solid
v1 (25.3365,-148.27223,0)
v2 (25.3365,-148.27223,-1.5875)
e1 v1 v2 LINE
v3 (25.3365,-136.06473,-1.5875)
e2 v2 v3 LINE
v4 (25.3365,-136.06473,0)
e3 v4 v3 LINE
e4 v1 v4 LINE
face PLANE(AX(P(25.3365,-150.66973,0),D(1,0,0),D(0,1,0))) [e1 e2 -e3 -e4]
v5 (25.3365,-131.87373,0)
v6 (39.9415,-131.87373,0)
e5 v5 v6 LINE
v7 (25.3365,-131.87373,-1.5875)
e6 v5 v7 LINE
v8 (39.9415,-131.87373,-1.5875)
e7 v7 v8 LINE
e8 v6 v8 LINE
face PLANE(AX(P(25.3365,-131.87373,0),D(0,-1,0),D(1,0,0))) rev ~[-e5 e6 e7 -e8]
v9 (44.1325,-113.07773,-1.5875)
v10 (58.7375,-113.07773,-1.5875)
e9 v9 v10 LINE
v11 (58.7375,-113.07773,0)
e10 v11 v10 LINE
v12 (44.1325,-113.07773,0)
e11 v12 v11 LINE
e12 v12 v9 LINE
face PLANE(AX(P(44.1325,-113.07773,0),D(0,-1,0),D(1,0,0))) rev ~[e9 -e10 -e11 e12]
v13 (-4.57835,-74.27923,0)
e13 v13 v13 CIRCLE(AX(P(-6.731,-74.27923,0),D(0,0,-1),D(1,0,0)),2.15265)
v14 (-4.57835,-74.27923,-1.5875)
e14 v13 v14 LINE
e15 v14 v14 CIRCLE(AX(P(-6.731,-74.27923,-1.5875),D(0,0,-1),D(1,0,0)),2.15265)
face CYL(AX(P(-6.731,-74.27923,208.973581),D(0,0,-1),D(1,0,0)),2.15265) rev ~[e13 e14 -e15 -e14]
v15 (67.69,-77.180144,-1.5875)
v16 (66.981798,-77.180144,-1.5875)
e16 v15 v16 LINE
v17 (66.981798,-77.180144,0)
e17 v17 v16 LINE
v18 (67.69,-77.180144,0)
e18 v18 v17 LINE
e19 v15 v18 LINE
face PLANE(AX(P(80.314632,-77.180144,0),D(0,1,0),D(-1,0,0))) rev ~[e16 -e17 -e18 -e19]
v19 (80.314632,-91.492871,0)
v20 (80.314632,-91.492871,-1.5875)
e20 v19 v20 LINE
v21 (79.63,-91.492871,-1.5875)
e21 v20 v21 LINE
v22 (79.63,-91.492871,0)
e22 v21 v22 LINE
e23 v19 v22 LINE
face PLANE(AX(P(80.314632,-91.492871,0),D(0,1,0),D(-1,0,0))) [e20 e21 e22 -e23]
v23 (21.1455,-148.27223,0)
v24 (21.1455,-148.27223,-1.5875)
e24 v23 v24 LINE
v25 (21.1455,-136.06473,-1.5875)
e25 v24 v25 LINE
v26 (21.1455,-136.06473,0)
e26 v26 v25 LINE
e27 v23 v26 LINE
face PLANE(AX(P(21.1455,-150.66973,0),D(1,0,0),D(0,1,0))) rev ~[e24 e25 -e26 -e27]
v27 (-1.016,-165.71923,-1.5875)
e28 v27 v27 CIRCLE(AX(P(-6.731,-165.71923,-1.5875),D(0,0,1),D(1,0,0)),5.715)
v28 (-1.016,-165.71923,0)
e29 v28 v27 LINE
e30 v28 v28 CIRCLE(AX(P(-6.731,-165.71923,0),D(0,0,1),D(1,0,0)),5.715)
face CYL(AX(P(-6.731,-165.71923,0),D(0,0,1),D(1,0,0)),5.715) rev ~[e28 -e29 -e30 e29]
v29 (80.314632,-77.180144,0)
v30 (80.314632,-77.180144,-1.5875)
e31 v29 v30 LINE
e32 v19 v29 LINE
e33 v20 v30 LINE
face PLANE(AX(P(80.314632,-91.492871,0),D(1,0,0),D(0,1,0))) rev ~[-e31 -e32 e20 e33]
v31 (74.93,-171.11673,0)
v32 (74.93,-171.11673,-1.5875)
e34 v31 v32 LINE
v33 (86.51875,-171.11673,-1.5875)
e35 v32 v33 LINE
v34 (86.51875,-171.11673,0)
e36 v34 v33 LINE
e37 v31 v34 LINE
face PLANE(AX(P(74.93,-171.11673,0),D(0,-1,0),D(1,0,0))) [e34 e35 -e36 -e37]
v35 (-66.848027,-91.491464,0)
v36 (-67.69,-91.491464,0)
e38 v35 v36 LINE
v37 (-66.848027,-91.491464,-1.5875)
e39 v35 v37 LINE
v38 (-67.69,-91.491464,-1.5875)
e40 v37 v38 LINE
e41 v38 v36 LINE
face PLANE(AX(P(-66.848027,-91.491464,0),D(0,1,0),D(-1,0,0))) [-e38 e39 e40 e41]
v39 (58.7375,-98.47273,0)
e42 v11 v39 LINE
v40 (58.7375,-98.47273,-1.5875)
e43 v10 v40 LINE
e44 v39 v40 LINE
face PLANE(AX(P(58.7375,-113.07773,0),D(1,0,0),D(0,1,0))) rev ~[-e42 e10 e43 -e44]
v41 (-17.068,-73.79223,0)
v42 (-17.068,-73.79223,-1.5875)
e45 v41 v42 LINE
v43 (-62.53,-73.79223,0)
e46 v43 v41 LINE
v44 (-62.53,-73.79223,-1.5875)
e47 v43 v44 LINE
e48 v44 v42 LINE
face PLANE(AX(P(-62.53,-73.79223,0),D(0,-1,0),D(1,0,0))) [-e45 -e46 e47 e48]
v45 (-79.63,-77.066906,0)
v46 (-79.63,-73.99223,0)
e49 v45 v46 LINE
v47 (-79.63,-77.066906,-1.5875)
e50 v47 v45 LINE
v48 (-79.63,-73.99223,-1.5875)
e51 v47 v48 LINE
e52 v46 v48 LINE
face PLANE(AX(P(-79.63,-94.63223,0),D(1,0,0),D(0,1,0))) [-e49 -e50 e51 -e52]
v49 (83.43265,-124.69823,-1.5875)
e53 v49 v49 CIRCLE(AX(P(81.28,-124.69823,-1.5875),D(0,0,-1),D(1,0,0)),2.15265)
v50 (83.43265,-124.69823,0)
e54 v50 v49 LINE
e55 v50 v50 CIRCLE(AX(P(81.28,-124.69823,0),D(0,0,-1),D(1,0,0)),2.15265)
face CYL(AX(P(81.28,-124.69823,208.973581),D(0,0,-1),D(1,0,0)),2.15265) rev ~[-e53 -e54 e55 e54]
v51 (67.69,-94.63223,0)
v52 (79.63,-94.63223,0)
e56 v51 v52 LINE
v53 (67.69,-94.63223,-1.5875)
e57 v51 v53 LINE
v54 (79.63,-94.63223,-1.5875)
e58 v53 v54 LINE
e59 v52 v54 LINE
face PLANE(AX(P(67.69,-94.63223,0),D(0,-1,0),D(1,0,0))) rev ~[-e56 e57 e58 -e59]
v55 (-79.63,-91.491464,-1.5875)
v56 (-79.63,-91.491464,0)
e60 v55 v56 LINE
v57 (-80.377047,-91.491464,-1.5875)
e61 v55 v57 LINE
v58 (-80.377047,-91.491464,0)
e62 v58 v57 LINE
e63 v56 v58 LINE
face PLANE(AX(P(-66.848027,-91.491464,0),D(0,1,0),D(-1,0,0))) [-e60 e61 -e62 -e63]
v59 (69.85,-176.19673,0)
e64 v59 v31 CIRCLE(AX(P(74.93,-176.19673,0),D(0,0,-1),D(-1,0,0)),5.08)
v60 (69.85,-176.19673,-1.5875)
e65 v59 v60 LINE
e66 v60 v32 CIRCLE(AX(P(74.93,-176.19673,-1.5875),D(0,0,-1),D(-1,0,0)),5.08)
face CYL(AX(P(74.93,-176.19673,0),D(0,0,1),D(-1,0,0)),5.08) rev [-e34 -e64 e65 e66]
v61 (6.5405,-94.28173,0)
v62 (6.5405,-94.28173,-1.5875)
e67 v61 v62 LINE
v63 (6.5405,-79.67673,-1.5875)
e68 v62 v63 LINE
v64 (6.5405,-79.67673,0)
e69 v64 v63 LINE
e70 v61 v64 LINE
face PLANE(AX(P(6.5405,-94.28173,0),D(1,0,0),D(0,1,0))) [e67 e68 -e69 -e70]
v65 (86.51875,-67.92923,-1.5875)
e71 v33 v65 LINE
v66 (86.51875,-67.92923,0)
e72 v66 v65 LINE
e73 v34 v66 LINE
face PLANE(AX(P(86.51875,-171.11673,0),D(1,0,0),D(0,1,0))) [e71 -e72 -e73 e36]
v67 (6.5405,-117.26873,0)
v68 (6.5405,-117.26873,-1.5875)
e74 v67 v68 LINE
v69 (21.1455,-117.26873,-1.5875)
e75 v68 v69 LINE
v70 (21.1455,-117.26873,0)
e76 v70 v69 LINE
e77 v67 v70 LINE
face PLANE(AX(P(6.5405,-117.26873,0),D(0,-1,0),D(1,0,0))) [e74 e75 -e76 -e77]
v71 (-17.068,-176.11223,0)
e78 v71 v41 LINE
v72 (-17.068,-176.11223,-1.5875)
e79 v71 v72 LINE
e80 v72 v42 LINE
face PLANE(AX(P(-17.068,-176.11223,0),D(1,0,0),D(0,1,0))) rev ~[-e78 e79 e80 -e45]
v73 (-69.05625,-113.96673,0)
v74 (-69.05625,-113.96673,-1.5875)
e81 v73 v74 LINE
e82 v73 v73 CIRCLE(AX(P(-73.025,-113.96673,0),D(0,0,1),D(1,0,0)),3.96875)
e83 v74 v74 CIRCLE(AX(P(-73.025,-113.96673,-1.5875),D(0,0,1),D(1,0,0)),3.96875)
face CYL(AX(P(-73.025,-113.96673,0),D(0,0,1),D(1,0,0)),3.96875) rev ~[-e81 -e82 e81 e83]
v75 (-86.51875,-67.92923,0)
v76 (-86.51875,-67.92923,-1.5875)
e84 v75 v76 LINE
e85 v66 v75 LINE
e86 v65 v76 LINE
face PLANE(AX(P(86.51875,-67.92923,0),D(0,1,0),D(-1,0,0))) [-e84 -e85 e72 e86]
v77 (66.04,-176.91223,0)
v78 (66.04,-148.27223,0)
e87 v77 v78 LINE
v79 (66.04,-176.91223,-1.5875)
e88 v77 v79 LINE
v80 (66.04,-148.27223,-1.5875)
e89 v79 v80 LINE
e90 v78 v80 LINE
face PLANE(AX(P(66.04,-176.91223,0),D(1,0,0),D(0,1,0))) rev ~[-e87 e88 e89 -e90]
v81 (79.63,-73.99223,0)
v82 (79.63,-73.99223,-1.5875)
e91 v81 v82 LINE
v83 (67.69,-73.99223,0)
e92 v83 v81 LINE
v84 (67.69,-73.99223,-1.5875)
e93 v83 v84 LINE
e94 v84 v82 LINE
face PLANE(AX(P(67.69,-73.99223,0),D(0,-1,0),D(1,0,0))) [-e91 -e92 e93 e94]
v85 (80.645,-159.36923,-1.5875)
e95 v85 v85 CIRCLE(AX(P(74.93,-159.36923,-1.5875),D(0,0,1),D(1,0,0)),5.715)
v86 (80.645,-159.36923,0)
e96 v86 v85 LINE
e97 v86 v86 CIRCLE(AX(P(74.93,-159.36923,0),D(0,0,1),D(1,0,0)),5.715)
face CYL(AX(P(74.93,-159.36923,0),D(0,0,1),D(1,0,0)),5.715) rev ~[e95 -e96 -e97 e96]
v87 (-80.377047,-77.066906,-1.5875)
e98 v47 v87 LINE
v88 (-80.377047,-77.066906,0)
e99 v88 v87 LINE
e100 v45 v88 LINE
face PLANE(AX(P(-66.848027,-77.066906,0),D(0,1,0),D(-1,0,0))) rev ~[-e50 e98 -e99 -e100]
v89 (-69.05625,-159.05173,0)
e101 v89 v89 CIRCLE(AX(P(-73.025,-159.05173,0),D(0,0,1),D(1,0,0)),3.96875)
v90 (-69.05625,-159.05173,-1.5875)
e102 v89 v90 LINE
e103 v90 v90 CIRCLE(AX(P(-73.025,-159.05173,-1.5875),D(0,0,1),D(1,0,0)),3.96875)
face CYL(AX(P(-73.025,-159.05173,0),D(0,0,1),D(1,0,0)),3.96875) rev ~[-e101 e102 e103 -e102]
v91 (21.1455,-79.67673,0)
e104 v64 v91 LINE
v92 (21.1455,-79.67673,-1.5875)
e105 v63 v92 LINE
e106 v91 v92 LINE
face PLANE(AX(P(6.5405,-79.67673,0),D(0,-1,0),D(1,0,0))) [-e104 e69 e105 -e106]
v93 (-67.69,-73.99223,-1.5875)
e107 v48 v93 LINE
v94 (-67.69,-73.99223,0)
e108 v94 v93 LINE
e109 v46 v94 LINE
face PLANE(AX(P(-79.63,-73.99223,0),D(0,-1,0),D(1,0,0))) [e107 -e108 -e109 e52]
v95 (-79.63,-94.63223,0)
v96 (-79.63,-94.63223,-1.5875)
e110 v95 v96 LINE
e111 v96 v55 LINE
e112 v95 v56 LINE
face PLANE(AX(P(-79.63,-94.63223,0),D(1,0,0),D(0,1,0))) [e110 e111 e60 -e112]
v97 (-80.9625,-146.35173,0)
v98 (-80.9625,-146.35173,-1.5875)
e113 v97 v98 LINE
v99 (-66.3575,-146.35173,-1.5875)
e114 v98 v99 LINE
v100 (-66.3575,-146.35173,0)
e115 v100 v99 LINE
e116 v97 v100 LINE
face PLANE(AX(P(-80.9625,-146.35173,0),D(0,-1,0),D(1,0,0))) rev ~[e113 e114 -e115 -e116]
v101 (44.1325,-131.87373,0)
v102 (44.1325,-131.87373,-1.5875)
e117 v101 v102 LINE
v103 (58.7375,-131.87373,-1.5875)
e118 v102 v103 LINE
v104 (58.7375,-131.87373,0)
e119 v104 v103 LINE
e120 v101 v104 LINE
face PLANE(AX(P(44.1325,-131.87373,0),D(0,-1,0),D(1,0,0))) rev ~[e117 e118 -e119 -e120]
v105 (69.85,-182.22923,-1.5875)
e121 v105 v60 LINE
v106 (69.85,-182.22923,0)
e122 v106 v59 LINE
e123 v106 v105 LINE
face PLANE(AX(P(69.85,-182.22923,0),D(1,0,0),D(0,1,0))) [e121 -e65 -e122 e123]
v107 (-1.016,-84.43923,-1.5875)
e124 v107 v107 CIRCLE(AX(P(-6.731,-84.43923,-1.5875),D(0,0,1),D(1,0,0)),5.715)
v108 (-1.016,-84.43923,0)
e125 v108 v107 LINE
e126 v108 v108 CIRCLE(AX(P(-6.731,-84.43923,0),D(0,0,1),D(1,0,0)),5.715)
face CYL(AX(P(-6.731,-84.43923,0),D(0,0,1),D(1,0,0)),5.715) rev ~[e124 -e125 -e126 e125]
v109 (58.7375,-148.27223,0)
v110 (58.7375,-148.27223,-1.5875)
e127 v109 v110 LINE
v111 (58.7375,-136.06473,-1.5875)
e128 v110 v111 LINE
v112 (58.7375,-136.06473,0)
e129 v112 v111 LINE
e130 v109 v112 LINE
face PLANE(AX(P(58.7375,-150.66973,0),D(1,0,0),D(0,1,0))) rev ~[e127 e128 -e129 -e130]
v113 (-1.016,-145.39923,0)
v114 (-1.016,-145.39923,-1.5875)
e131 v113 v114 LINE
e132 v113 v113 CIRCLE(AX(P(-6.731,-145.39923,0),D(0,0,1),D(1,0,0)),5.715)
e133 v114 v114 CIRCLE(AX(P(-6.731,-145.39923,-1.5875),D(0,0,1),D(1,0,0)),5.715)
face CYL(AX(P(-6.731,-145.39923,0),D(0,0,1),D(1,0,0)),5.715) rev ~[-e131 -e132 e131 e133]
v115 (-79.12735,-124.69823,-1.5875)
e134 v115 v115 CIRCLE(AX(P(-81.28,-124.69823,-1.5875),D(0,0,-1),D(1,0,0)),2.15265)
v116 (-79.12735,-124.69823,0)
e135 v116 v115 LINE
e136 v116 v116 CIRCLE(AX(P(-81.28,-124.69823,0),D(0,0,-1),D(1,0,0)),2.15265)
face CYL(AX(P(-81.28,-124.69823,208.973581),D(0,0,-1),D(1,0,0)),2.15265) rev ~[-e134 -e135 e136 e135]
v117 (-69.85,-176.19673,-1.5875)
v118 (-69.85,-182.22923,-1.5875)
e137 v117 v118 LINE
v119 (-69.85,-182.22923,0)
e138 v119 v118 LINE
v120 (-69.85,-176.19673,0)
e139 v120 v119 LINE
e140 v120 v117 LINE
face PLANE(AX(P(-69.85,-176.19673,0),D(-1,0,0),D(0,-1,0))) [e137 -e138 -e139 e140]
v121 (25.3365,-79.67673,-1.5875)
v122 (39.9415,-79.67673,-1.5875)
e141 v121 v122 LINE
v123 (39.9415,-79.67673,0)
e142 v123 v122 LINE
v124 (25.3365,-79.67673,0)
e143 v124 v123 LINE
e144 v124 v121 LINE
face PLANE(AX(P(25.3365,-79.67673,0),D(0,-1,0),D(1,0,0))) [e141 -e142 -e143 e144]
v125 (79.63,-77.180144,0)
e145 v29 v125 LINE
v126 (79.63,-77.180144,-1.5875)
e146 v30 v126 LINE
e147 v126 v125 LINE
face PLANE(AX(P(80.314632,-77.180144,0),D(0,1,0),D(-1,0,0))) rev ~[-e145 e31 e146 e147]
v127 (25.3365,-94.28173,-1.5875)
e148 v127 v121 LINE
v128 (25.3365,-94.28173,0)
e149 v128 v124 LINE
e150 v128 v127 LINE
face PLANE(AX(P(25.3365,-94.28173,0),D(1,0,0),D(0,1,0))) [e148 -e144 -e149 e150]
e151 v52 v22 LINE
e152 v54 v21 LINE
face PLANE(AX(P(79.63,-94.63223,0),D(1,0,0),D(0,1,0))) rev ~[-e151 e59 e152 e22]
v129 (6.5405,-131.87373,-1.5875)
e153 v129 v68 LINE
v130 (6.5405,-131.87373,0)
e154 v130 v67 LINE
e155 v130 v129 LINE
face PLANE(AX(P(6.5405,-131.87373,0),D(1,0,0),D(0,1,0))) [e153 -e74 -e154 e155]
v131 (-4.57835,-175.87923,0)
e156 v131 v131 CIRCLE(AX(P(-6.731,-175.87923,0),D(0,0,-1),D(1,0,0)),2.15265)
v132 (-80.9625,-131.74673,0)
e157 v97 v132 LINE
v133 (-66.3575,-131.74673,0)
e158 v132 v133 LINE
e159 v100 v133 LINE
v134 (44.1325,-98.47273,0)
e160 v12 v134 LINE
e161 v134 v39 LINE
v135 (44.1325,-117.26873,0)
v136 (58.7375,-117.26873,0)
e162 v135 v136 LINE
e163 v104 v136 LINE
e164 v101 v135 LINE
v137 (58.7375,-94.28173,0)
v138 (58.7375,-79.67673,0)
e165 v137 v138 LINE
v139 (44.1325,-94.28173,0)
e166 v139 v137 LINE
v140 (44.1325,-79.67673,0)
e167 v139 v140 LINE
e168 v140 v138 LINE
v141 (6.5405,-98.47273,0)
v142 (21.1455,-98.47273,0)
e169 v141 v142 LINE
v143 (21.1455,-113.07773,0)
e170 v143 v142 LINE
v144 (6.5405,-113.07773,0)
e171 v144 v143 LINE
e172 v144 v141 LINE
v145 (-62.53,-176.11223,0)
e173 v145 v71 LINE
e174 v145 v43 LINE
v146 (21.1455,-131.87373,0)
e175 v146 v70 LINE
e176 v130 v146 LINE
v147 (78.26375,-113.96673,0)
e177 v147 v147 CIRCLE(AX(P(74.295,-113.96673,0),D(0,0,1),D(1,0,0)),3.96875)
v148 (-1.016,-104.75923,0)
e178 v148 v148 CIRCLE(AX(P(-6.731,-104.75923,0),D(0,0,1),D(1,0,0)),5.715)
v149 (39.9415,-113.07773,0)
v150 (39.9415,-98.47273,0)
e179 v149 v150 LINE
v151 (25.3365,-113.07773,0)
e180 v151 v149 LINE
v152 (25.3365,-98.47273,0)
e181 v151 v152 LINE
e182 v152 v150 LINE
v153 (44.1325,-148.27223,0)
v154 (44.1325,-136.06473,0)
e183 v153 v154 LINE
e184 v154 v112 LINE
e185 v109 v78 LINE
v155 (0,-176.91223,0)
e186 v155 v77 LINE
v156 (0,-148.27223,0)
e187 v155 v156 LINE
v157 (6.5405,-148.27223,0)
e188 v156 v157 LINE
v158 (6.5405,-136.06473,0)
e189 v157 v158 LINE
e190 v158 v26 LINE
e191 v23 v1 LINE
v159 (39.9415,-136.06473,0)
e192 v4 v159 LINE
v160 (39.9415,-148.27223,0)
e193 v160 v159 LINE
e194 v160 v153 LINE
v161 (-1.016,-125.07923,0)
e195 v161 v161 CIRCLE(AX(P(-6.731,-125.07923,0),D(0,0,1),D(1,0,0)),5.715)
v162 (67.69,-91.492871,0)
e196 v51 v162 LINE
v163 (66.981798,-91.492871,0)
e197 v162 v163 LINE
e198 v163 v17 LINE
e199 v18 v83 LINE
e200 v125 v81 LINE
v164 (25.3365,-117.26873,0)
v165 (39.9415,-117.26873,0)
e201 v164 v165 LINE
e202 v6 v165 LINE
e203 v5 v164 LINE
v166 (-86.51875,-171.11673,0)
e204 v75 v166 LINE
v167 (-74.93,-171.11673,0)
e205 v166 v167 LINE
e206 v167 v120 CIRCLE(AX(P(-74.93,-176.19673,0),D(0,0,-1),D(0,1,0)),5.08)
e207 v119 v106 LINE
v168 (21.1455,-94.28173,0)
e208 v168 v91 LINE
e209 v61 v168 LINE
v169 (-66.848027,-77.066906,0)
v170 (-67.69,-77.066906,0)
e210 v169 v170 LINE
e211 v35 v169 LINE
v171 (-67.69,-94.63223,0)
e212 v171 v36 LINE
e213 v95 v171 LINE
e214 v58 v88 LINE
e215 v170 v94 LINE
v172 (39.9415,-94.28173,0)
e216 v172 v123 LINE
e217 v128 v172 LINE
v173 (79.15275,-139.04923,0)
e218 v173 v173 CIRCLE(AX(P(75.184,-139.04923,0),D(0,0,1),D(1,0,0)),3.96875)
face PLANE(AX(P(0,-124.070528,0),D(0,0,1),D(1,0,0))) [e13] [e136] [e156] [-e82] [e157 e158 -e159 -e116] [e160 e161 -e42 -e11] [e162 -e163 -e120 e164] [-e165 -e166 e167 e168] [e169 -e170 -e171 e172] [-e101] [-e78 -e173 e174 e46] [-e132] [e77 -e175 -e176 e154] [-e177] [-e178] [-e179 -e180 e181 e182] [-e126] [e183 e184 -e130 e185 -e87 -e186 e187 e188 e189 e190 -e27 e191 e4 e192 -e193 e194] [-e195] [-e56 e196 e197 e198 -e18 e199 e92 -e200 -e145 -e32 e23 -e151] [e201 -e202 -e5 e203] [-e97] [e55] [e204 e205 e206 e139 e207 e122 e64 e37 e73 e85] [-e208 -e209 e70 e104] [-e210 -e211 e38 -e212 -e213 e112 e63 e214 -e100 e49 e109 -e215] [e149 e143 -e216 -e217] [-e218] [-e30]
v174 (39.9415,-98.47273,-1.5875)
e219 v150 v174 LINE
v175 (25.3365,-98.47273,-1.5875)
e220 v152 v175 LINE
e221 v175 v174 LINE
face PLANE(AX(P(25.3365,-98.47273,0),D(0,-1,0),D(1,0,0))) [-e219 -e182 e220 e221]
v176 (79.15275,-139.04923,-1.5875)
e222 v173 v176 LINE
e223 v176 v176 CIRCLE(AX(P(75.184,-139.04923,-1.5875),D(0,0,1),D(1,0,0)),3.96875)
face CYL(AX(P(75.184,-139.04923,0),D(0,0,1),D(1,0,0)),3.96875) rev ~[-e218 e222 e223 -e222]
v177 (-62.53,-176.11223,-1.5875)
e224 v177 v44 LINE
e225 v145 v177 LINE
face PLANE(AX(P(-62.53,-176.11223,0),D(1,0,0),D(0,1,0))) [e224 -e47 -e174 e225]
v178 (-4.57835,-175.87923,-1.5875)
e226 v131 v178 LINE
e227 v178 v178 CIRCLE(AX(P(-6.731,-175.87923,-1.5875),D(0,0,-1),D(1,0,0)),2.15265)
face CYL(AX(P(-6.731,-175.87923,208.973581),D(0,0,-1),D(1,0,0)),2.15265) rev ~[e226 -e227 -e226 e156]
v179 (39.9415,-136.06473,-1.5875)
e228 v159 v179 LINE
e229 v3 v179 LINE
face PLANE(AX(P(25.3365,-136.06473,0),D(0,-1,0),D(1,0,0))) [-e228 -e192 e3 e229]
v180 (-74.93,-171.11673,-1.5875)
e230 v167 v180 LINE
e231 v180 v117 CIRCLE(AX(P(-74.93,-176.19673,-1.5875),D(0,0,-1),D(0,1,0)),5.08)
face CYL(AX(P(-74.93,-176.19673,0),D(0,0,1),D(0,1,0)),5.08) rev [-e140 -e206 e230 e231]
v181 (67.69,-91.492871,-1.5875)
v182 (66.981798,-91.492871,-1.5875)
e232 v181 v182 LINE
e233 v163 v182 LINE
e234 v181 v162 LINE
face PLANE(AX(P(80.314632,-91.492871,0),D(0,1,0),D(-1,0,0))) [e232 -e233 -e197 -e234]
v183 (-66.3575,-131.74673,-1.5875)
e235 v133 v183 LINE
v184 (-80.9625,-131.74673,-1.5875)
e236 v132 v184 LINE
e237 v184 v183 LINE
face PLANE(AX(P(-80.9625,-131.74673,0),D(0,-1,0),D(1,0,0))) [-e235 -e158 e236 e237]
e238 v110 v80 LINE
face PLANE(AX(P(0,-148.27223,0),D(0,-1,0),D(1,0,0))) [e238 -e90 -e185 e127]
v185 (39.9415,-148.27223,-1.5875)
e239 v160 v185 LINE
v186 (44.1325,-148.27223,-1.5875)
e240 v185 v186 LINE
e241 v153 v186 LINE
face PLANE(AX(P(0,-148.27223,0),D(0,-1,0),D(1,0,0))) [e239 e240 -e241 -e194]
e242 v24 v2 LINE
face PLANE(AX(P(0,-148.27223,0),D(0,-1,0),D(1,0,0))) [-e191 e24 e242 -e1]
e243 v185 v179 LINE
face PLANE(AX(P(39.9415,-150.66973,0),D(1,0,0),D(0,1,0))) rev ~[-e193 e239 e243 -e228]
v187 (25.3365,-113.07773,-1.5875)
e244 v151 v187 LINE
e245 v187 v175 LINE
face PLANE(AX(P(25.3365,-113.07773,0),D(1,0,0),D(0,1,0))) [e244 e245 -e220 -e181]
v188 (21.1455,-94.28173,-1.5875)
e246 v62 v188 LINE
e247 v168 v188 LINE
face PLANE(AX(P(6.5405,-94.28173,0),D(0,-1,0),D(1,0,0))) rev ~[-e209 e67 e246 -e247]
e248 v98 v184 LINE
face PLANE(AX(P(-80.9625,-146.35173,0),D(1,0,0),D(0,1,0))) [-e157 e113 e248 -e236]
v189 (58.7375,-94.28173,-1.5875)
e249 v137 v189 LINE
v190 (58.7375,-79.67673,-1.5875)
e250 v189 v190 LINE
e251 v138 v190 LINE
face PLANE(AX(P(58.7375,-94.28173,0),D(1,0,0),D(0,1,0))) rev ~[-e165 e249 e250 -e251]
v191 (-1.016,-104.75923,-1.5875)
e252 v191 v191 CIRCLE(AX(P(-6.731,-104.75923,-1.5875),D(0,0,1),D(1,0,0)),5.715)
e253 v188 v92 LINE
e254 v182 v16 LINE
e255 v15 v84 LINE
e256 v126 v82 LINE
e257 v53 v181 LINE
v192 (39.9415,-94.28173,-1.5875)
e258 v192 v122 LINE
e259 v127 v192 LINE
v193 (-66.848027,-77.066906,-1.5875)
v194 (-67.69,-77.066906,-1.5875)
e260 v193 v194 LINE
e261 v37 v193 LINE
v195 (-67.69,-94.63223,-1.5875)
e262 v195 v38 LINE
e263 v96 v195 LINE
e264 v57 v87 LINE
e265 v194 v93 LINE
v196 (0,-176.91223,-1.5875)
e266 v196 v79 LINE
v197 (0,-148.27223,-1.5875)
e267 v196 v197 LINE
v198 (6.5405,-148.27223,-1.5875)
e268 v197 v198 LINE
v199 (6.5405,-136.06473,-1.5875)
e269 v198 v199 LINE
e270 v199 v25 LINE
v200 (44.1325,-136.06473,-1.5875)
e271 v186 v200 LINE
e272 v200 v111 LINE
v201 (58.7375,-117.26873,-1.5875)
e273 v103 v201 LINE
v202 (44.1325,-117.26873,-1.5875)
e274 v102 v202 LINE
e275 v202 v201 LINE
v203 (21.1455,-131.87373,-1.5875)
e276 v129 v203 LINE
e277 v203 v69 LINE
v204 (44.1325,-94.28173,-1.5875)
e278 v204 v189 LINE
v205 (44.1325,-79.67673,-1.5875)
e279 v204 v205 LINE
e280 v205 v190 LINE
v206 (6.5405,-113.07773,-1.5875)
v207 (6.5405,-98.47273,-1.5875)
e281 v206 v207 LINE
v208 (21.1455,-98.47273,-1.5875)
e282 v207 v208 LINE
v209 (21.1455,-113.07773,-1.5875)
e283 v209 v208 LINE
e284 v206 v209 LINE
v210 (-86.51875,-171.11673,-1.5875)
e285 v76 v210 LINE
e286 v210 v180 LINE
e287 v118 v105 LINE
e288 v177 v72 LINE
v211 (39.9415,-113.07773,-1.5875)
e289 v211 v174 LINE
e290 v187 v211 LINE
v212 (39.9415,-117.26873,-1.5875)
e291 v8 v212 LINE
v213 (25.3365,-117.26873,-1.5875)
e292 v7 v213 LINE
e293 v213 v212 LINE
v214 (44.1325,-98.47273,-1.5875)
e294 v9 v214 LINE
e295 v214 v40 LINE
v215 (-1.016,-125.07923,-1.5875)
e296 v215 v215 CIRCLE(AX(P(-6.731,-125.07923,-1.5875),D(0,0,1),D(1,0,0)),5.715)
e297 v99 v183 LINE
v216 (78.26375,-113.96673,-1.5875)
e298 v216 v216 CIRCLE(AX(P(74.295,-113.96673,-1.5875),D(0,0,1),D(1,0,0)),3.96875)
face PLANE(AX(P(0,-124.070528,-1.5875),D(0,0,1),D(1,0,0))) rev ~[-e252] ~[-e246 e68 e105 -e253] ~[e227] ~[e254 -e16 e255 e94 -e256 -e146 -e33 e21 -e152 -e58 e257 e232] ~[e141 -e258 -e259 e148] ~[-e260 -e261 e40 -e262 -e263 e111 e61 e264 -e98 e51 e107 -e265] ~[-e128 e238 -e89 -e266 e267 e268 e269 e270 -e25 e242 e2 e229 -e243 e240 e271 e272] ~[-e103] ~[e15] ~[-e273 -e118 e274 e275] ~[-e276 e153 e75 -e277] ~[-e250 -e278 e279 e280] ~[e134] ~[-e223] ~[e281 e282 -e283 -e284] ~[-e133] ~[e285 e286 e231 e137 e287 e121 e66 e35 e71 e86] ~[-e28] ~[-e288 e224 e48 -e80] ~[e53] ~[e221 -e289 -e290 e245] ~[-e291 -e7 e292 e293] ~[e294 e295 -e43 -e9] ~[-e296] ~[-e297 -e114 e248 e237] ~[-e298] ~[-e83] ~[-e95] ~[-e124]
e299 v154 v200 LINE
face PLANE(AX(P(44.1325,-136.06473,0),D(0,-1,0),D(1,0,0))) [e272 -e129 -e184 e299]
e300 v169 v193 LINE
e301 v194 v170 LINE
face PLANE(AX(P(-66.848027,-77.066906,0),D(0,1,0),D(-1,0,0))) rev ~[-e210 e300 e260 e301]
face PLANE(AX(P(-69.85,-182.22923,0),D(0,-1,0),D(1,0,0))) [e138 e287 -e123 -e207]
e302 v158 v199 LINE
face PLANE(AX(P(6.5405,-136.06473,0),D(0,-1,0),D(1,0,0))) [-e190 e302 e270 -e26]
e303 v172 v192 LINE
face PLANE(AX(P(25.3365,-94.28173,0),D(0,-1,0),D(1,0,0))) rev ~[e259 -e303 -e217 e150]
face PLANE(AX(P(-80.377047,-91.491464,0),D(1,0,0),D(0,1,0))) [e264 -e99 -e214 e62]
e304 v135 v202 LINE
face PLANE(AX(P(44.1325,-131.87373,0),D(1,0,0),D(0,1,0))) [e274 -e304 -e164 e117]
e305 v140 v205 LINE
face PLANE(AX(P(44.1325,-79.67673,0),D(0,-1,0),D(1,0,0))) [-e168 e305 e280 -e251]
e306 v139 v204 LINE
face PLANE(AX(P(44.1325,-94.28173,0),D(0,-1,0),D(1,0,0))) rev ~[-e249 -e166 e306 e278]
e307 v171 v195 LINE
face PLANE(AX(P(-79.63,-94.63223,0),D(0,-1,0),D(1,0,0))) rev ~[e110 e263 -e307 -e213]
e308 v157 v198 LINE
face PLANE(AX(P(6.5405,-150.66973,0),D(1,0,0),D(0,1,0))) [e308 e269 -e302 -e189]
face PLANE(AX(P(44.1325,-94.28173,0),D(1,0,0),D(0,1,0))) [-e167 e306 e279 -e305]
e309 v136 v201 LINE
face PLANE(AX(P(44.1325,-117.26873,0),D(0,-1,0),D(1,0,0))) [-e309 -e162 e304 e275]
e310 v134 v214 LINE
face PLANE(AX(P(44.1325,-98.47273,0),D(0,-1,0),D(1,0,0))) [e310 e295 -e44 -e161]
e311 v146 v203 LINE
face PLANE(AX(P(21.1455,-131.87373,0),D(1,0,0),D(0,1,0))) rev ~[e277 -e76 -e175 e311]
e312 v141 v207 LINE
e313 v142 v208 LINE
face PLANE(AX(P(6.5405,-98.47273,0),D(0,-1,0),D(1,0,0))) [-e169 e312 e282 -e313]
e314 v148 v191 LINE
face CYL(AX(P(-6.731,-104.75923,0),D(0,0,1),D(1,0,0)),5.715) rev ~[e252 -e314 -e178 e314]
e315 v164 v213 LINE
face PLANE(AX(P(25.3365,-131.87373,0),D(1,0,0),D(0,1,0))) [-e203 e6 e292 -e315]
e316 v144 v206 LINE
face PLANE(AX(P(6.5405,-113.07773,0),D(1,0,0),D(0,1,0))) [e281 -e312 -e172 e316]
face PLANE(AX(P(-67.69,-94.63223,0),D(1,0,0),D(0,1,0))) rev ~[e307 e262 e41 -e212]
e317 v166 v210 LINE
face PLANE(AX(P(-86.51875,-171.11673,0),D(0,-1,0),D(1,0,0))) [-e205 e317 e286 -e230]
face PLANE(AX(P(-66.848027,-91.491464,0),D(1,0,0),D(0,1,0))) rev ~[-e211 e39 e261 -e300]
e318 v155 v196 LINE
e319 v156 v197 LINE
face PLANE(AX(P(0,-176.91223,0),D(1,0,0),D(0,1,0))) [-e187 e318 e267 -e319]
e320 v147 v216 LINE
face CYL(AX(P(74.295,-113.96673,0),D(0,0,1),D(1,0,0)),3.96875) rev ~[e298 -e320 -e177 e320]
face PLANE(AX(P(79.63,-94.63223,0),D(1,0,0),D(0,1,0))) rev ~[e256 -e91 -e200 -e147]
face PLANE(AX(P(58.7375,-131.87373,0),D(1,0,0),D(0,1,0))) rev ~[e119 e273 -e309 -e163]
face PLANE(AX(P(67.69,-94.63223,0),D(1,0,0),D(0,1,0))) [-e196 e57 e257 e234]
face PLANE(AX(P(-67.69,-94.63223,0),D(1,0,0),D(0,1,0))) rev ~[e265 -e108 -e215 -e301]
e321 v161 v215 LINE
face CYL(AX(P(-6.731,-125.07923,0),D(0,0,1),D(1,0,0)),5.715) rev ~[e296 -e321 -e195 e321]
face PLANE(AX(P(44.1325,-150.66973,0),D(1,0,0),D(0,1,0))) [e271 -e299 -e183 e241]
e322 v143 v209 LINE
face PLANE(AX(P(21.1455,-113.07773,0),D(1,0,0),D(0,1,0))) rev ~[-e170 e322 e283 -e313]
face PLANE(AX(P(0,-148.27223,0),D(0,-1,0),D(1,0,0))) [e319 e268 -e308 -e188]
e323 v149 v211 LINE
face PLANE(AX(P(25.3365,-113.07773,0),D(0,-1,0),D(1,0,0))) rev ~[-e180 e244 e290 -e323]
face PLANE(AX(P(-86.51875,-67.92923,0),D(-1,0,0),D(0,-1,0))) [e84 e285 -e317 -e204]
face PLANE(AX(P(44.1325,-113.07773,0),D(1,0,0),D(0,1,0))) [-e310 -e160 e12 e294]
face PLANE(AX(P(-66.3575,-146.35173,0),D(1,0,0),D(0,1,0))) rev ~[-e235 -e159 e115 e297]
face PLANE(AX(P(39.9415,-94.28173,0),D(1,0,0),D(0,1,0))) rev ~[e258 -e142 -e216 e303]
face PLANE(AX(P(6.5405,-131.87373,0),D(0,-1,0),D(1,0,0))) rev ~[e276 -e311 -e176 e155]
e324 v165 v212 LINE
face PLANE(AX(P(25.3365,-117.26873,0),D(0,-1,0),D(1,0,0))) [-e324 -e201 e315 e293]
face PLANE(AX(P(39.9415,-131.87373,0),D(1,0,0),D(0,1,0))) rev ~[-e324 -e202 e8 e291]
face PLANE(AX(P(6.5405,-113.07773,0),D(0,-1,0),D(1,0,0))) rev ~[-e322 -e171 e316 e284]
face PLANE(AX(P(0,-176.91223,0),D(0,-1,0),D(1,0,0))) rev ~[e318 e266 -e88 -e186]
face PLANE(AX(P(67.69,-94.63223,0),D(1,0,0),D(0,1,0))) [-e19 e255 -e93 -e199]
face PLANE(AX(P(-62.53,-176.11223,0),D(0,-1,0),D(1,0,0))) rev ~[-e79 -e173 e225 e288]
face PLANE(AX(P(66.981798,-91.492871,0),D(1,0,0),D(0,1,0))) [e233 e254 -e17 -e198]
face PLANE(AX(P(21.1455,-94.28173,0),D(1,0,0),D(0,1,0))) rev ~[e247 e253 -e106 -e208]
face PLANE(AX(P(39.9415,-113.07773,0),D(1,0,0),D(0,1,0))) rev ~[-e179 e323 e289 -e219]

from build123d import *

# Parameters (mm, degrees)
BOSS_EXTRUDE1_DEPTH   = 1.5875
SKETCH3_R             = 4.445
SKETCH3_W             = 12.065
SKETCH3_H             = 12.065
CUT_EXTRUDE1_DEPTH    = 2.5875
SKETCH4_R             = 3.96875
CUT_EXTRUDE2_DEPTH    = 2.5875
SKETCH5_W             = 11.94
SKETCH5_H             = 20.64
SKETCH5_W_2           = 45.462
SKETCH5_H_2           = 102.32
SKETCH5_W_3           = 57
SKETCH5_H_3           = 15.1
CUT_EXTRUDE3_DEPTH    = 2.5875
SKETCH6_R             = 5.715
SKETCH6_W             = 14.605
SKETCH6_H             = 14.605
CUT_EXTRUDE4_DEPTH    = 2.5875
SKETCH7_W             = 66.04
SKETCH7_H             = 28.64
CUT_EXTRUDE5_DEPTH    = 2.5875
F_6_CLEARANCE_HOLE2_D = 4.3053
CUT_EXTRUDE6_START    = -1.5875
SKETCH12_W            = 13.529020254
SKETCH12_H            = 14.424558238
SKETCH12_W_2          = 13.332833864
SKETCH12_H_2          = 14.312726797
CUT_EXTRUDE6_DEPTH    = 1.5875


with BuildPart() as part:
    # Sketch1 → Boss-Extrude1 (new body)
    with BuildSketch(Plane.XY):
        with BuildLine():
            Line((74.93, -171.1167297), (86.51875, -171.1167297))
            Line((86.51875, -171.1167297), (86.51875, -67.9292297))
            Line((86.51875, -67.9292297), (-86.51875, -67.9292297))
            Line((-86.51875, -67.9292297), (-86.51875, -171.1167297))
            Line((-86.51875, -171.1167297), (-74.93, -171.1167297))
            ThreePointArc((-74.93, -171.1167297), (-71.337897552, -172.604627251), (-69.85, -176.1967297))
            Line((-69.85, -176.1967297), (-69.85, -182.2292297))
            Line((-69.85, -182.2292297), (69.85, -182.2292297))
            Line((69.85, -182.2292297), (69.85, -176.1967297))
            ThreePointArc((69.85, -176.1967297), (71.337897552, -172.604627251), (74.93, -171.1167297))
        make_face()
    extrude(amount=-BOSS_EXTRUDE1_DEPTH)

    # Sketch3 → Cut-Extrude1 (cut, through all)
    with BuildSketch(Plane.XY):
        with Locations((74.93, -159.3692297)):
            Circle(SKETCH3_R)
        with Locations((-6.731, -165.7192297)):
            Circle(SKETCH3_R)
        with Locations((-6.731, -145.3992297)):
            Circle(SKETCH3_R)
        with Locations((-6.731, -125.0792297)):
            Circle(SKETCH3_R)
        with Locations((-6.731, -104.7592297)):
            Circle(SKETCH3_R)
        with Locations((-6.731, -84.4392297)):
            Circle(SKETCH3_R)
        with Locations((-73.66, -139.0492297)):
            Rectangle(SKETCH3_W, SKETCH3_H)
        with Locations((13.843, -143.3672297)):
            Rectangle(SKETCH3_W, SKETCH3_H)
        with Locations((32.639, -143.3672297)):
            Rectangle(SKETCH3_W, SKETCH3_H)
        with Locations((51.435, -143.3672297)):
            Rectangle(SKETCH3_W, SKETCH3_H)
        with Locations((51.435, -124.5712297)):
            Rectangle(SKETCH3_W, SKETCH3_H)
        with Locations((32.639, -124.5712297)):
            Rectangle(SKETCH3_W, SKETCH3_H)
        with Locations((13.843, -124.5712297)):
            Rectangle(SKETCH3_W, SKETCH3_H)
        with Locations((13.843, -105.7752297)):
            Rectangle(SKETCH3_W, SKETCH3_H)
        with Locations((13.843, -86.9792297)):
            Rectangle(SKETCH3_W, SKETCH3_H)
        with Locations((32.639, -86.9792297)):
            Rectangle(SKETCH3_W, SKETCH3_H)
        with Locations((32.639, -105.7752297)):
            Rectangle(SKETCH3_W, SKETCH3_H)
        with Locations((51.435, -105.7752297)):
            Rectangle(SKETCH3_W, SKETCH3_H)
        with Locations((51.435, -86.9792297)):
            Rectangle(SKETCH3_W, SKETCH3_H)
    extrude(amount=-CUT_EXTRUDE1_DEPTH, mode=Mode.SUBTRACT)

    # Sketch4 → Cut-Extrude2 (cut, through all)
    with BuildSketch(Plane.XY):
        with Locations((-73.025, -113.9667297)):
            Circle(SKETCH4_R)
        with Locations((-73.025, -159.0517297)):
            Circle(SKETCH4_R)
        with Locations((74.295, -113.9667297)):
            Circle(SKETCH4_R)
        with Locations((75.184, -139.0492297)):
            Circle(SKETCH4_R)
    extrude(amount=-CUT_EXTRUDE2_DEPTH, mode=Mode.SUBTRACT)

    # Sketch5 → Cut-Extrude3 (cut, through all)
    with BuildSketch(Plane.XY):
        with Locations((-73.66, -84.3122297)):
            Rectangle(SKETCH5_W, SKETCH5_H)
        with Locations((73.66, -84.3122297)):
            Rectangle(SKETCH5_W, SKETCH5_H)
        with Locations((-39.799, -124.9522297)):
            Rectangle(SKETCH5_W_2, SKETCH5_H_2)
        with Locations((33.02, -165.4922297)):
            Rectangle(SKETCH5_W_3, SKETCH5_H_3)
    extrude(amount=-CUT_EXTRUDE3_DEPTH, mode=Mode.SUBTRACT)

    # Sketch6 → Cut-Extrude4 (cut, through all)
    with BuildSketch(Plane.XY):
        with Locations((74.93, -159.3692297)):
            Circle(SKETCH6_R)
        with Locations((-6.731, -165.7192297)):
            Circle(SKETCH6_R)
        with Locations((-6.731, -145.3992297)):
            Circle(SKETCH6_R)
        with Locations((-6.731, -125.0792297)):
            Circle(SKETCH6_R)
        with Locations((-6.731, -104.7592297)):
            Circle(SKETCH6_R)
        with Locations((-6.731, -84.4392297)):
            Circle(SKETCH6_R)
        with Locations((51.435, -143.3672297)):
            Rectangle(SKETCH6_W, SKETCH6_H)
        with Locations((51.435, -124.5712297)):
            Rectangle(SKETCH6_W, SKETCH6_H)
        with Locations((51.435, -105.7752297)):
            Rectangle(SKETCH6_W, SKETCH6_H)
        with Locations((51.435, -86.9792297)):
            Rectangle(SKETCH6_W, SKETCH6_H)
        with Locations((32.639, -143.3672297)):
            Rectangle(SKETCH6_W, SKETCH6_H)
        with Locations((32.639, -124.5712297)):
            Rectangle(SKETCH6_W, SKETCH6_H)
        with Locations((32.639, -105.7752297)):
            Rectangle(SKETCH6_W, SKETCH6_H)
        with Locations((32.639, -86.9792297)):
            Rectangle(SKETCH6_W, SKETCH6_H)
        with Locations((13.843, -86.9792297)):
            Rectangle(SKETCH6_W, SKETCH6_H)
        with Locations((13.843, -105.7752297)):
            Rectangle(SKETCH6_W, SKETCH6_H)
        with Locations((13.843, -124.5712297)):
            Rectangle(SKETCH6_W, SKETCH6_H)
        with Locations((13.843, -143.3672297)):
            Rectangle(SKETCH6_W, SKETCH6_H)
        with Locations((-73.66, -139.0492297)):
            Rectangle(SKETCH6_W, SKETCH6_H)
    extrude(amount=-CUT_EXTRUDE4_DEPTH, mode=Mode.SUBTRACT)

    # Sketch7 → Cut-Extrude5 (cut, through all)
    with BuildSketch(Plane.XY):
        with Locations((33.02, -162.5922297)):
            Rectangle(SKETCH7_W, SKETCH7_H)
    extrude(amount=-CUT_EXTRUDE5_DEPTH, mode=Mode.SUBTRACT)

    # #6 Clearance Hole2 (through all)
    with Locations(Plane(origin=(0, 0, 1.5875), x_dir=(-1, 0, 0), z_dir=(0, 0, 1))):
        with Locations((-81.28, 124.6982297), (6.731, 175.8792297), (81.28, 124.6982297), (6.731, 74.2792297)):
            Hole(F_6_CLEARANCE_HOLE2_D / 2)

    # Sketch12 → Cut-Extrude6 (cut)
    with BuildSketch(Plane(origin=(0, 0, -1.5875), x_dir=(-1, 0, 0), z_dir=(0, 0, -1)).offset(CUT_EXTRUDE6_START)):
        with Locations((73.612537257, -84.279184845)):
            Rectangle(SKETCH12_W, SKETCH12_H)
        with Locations((-73.648214967, -84.336507402)):
            Rectangle(SKETCH12_W_2, SKETCH12_H_2)
    extrude(amount=CUT_EXTRUDE6_DEPTH, mode=Mode.SUBTRACT)


solid = part.part
